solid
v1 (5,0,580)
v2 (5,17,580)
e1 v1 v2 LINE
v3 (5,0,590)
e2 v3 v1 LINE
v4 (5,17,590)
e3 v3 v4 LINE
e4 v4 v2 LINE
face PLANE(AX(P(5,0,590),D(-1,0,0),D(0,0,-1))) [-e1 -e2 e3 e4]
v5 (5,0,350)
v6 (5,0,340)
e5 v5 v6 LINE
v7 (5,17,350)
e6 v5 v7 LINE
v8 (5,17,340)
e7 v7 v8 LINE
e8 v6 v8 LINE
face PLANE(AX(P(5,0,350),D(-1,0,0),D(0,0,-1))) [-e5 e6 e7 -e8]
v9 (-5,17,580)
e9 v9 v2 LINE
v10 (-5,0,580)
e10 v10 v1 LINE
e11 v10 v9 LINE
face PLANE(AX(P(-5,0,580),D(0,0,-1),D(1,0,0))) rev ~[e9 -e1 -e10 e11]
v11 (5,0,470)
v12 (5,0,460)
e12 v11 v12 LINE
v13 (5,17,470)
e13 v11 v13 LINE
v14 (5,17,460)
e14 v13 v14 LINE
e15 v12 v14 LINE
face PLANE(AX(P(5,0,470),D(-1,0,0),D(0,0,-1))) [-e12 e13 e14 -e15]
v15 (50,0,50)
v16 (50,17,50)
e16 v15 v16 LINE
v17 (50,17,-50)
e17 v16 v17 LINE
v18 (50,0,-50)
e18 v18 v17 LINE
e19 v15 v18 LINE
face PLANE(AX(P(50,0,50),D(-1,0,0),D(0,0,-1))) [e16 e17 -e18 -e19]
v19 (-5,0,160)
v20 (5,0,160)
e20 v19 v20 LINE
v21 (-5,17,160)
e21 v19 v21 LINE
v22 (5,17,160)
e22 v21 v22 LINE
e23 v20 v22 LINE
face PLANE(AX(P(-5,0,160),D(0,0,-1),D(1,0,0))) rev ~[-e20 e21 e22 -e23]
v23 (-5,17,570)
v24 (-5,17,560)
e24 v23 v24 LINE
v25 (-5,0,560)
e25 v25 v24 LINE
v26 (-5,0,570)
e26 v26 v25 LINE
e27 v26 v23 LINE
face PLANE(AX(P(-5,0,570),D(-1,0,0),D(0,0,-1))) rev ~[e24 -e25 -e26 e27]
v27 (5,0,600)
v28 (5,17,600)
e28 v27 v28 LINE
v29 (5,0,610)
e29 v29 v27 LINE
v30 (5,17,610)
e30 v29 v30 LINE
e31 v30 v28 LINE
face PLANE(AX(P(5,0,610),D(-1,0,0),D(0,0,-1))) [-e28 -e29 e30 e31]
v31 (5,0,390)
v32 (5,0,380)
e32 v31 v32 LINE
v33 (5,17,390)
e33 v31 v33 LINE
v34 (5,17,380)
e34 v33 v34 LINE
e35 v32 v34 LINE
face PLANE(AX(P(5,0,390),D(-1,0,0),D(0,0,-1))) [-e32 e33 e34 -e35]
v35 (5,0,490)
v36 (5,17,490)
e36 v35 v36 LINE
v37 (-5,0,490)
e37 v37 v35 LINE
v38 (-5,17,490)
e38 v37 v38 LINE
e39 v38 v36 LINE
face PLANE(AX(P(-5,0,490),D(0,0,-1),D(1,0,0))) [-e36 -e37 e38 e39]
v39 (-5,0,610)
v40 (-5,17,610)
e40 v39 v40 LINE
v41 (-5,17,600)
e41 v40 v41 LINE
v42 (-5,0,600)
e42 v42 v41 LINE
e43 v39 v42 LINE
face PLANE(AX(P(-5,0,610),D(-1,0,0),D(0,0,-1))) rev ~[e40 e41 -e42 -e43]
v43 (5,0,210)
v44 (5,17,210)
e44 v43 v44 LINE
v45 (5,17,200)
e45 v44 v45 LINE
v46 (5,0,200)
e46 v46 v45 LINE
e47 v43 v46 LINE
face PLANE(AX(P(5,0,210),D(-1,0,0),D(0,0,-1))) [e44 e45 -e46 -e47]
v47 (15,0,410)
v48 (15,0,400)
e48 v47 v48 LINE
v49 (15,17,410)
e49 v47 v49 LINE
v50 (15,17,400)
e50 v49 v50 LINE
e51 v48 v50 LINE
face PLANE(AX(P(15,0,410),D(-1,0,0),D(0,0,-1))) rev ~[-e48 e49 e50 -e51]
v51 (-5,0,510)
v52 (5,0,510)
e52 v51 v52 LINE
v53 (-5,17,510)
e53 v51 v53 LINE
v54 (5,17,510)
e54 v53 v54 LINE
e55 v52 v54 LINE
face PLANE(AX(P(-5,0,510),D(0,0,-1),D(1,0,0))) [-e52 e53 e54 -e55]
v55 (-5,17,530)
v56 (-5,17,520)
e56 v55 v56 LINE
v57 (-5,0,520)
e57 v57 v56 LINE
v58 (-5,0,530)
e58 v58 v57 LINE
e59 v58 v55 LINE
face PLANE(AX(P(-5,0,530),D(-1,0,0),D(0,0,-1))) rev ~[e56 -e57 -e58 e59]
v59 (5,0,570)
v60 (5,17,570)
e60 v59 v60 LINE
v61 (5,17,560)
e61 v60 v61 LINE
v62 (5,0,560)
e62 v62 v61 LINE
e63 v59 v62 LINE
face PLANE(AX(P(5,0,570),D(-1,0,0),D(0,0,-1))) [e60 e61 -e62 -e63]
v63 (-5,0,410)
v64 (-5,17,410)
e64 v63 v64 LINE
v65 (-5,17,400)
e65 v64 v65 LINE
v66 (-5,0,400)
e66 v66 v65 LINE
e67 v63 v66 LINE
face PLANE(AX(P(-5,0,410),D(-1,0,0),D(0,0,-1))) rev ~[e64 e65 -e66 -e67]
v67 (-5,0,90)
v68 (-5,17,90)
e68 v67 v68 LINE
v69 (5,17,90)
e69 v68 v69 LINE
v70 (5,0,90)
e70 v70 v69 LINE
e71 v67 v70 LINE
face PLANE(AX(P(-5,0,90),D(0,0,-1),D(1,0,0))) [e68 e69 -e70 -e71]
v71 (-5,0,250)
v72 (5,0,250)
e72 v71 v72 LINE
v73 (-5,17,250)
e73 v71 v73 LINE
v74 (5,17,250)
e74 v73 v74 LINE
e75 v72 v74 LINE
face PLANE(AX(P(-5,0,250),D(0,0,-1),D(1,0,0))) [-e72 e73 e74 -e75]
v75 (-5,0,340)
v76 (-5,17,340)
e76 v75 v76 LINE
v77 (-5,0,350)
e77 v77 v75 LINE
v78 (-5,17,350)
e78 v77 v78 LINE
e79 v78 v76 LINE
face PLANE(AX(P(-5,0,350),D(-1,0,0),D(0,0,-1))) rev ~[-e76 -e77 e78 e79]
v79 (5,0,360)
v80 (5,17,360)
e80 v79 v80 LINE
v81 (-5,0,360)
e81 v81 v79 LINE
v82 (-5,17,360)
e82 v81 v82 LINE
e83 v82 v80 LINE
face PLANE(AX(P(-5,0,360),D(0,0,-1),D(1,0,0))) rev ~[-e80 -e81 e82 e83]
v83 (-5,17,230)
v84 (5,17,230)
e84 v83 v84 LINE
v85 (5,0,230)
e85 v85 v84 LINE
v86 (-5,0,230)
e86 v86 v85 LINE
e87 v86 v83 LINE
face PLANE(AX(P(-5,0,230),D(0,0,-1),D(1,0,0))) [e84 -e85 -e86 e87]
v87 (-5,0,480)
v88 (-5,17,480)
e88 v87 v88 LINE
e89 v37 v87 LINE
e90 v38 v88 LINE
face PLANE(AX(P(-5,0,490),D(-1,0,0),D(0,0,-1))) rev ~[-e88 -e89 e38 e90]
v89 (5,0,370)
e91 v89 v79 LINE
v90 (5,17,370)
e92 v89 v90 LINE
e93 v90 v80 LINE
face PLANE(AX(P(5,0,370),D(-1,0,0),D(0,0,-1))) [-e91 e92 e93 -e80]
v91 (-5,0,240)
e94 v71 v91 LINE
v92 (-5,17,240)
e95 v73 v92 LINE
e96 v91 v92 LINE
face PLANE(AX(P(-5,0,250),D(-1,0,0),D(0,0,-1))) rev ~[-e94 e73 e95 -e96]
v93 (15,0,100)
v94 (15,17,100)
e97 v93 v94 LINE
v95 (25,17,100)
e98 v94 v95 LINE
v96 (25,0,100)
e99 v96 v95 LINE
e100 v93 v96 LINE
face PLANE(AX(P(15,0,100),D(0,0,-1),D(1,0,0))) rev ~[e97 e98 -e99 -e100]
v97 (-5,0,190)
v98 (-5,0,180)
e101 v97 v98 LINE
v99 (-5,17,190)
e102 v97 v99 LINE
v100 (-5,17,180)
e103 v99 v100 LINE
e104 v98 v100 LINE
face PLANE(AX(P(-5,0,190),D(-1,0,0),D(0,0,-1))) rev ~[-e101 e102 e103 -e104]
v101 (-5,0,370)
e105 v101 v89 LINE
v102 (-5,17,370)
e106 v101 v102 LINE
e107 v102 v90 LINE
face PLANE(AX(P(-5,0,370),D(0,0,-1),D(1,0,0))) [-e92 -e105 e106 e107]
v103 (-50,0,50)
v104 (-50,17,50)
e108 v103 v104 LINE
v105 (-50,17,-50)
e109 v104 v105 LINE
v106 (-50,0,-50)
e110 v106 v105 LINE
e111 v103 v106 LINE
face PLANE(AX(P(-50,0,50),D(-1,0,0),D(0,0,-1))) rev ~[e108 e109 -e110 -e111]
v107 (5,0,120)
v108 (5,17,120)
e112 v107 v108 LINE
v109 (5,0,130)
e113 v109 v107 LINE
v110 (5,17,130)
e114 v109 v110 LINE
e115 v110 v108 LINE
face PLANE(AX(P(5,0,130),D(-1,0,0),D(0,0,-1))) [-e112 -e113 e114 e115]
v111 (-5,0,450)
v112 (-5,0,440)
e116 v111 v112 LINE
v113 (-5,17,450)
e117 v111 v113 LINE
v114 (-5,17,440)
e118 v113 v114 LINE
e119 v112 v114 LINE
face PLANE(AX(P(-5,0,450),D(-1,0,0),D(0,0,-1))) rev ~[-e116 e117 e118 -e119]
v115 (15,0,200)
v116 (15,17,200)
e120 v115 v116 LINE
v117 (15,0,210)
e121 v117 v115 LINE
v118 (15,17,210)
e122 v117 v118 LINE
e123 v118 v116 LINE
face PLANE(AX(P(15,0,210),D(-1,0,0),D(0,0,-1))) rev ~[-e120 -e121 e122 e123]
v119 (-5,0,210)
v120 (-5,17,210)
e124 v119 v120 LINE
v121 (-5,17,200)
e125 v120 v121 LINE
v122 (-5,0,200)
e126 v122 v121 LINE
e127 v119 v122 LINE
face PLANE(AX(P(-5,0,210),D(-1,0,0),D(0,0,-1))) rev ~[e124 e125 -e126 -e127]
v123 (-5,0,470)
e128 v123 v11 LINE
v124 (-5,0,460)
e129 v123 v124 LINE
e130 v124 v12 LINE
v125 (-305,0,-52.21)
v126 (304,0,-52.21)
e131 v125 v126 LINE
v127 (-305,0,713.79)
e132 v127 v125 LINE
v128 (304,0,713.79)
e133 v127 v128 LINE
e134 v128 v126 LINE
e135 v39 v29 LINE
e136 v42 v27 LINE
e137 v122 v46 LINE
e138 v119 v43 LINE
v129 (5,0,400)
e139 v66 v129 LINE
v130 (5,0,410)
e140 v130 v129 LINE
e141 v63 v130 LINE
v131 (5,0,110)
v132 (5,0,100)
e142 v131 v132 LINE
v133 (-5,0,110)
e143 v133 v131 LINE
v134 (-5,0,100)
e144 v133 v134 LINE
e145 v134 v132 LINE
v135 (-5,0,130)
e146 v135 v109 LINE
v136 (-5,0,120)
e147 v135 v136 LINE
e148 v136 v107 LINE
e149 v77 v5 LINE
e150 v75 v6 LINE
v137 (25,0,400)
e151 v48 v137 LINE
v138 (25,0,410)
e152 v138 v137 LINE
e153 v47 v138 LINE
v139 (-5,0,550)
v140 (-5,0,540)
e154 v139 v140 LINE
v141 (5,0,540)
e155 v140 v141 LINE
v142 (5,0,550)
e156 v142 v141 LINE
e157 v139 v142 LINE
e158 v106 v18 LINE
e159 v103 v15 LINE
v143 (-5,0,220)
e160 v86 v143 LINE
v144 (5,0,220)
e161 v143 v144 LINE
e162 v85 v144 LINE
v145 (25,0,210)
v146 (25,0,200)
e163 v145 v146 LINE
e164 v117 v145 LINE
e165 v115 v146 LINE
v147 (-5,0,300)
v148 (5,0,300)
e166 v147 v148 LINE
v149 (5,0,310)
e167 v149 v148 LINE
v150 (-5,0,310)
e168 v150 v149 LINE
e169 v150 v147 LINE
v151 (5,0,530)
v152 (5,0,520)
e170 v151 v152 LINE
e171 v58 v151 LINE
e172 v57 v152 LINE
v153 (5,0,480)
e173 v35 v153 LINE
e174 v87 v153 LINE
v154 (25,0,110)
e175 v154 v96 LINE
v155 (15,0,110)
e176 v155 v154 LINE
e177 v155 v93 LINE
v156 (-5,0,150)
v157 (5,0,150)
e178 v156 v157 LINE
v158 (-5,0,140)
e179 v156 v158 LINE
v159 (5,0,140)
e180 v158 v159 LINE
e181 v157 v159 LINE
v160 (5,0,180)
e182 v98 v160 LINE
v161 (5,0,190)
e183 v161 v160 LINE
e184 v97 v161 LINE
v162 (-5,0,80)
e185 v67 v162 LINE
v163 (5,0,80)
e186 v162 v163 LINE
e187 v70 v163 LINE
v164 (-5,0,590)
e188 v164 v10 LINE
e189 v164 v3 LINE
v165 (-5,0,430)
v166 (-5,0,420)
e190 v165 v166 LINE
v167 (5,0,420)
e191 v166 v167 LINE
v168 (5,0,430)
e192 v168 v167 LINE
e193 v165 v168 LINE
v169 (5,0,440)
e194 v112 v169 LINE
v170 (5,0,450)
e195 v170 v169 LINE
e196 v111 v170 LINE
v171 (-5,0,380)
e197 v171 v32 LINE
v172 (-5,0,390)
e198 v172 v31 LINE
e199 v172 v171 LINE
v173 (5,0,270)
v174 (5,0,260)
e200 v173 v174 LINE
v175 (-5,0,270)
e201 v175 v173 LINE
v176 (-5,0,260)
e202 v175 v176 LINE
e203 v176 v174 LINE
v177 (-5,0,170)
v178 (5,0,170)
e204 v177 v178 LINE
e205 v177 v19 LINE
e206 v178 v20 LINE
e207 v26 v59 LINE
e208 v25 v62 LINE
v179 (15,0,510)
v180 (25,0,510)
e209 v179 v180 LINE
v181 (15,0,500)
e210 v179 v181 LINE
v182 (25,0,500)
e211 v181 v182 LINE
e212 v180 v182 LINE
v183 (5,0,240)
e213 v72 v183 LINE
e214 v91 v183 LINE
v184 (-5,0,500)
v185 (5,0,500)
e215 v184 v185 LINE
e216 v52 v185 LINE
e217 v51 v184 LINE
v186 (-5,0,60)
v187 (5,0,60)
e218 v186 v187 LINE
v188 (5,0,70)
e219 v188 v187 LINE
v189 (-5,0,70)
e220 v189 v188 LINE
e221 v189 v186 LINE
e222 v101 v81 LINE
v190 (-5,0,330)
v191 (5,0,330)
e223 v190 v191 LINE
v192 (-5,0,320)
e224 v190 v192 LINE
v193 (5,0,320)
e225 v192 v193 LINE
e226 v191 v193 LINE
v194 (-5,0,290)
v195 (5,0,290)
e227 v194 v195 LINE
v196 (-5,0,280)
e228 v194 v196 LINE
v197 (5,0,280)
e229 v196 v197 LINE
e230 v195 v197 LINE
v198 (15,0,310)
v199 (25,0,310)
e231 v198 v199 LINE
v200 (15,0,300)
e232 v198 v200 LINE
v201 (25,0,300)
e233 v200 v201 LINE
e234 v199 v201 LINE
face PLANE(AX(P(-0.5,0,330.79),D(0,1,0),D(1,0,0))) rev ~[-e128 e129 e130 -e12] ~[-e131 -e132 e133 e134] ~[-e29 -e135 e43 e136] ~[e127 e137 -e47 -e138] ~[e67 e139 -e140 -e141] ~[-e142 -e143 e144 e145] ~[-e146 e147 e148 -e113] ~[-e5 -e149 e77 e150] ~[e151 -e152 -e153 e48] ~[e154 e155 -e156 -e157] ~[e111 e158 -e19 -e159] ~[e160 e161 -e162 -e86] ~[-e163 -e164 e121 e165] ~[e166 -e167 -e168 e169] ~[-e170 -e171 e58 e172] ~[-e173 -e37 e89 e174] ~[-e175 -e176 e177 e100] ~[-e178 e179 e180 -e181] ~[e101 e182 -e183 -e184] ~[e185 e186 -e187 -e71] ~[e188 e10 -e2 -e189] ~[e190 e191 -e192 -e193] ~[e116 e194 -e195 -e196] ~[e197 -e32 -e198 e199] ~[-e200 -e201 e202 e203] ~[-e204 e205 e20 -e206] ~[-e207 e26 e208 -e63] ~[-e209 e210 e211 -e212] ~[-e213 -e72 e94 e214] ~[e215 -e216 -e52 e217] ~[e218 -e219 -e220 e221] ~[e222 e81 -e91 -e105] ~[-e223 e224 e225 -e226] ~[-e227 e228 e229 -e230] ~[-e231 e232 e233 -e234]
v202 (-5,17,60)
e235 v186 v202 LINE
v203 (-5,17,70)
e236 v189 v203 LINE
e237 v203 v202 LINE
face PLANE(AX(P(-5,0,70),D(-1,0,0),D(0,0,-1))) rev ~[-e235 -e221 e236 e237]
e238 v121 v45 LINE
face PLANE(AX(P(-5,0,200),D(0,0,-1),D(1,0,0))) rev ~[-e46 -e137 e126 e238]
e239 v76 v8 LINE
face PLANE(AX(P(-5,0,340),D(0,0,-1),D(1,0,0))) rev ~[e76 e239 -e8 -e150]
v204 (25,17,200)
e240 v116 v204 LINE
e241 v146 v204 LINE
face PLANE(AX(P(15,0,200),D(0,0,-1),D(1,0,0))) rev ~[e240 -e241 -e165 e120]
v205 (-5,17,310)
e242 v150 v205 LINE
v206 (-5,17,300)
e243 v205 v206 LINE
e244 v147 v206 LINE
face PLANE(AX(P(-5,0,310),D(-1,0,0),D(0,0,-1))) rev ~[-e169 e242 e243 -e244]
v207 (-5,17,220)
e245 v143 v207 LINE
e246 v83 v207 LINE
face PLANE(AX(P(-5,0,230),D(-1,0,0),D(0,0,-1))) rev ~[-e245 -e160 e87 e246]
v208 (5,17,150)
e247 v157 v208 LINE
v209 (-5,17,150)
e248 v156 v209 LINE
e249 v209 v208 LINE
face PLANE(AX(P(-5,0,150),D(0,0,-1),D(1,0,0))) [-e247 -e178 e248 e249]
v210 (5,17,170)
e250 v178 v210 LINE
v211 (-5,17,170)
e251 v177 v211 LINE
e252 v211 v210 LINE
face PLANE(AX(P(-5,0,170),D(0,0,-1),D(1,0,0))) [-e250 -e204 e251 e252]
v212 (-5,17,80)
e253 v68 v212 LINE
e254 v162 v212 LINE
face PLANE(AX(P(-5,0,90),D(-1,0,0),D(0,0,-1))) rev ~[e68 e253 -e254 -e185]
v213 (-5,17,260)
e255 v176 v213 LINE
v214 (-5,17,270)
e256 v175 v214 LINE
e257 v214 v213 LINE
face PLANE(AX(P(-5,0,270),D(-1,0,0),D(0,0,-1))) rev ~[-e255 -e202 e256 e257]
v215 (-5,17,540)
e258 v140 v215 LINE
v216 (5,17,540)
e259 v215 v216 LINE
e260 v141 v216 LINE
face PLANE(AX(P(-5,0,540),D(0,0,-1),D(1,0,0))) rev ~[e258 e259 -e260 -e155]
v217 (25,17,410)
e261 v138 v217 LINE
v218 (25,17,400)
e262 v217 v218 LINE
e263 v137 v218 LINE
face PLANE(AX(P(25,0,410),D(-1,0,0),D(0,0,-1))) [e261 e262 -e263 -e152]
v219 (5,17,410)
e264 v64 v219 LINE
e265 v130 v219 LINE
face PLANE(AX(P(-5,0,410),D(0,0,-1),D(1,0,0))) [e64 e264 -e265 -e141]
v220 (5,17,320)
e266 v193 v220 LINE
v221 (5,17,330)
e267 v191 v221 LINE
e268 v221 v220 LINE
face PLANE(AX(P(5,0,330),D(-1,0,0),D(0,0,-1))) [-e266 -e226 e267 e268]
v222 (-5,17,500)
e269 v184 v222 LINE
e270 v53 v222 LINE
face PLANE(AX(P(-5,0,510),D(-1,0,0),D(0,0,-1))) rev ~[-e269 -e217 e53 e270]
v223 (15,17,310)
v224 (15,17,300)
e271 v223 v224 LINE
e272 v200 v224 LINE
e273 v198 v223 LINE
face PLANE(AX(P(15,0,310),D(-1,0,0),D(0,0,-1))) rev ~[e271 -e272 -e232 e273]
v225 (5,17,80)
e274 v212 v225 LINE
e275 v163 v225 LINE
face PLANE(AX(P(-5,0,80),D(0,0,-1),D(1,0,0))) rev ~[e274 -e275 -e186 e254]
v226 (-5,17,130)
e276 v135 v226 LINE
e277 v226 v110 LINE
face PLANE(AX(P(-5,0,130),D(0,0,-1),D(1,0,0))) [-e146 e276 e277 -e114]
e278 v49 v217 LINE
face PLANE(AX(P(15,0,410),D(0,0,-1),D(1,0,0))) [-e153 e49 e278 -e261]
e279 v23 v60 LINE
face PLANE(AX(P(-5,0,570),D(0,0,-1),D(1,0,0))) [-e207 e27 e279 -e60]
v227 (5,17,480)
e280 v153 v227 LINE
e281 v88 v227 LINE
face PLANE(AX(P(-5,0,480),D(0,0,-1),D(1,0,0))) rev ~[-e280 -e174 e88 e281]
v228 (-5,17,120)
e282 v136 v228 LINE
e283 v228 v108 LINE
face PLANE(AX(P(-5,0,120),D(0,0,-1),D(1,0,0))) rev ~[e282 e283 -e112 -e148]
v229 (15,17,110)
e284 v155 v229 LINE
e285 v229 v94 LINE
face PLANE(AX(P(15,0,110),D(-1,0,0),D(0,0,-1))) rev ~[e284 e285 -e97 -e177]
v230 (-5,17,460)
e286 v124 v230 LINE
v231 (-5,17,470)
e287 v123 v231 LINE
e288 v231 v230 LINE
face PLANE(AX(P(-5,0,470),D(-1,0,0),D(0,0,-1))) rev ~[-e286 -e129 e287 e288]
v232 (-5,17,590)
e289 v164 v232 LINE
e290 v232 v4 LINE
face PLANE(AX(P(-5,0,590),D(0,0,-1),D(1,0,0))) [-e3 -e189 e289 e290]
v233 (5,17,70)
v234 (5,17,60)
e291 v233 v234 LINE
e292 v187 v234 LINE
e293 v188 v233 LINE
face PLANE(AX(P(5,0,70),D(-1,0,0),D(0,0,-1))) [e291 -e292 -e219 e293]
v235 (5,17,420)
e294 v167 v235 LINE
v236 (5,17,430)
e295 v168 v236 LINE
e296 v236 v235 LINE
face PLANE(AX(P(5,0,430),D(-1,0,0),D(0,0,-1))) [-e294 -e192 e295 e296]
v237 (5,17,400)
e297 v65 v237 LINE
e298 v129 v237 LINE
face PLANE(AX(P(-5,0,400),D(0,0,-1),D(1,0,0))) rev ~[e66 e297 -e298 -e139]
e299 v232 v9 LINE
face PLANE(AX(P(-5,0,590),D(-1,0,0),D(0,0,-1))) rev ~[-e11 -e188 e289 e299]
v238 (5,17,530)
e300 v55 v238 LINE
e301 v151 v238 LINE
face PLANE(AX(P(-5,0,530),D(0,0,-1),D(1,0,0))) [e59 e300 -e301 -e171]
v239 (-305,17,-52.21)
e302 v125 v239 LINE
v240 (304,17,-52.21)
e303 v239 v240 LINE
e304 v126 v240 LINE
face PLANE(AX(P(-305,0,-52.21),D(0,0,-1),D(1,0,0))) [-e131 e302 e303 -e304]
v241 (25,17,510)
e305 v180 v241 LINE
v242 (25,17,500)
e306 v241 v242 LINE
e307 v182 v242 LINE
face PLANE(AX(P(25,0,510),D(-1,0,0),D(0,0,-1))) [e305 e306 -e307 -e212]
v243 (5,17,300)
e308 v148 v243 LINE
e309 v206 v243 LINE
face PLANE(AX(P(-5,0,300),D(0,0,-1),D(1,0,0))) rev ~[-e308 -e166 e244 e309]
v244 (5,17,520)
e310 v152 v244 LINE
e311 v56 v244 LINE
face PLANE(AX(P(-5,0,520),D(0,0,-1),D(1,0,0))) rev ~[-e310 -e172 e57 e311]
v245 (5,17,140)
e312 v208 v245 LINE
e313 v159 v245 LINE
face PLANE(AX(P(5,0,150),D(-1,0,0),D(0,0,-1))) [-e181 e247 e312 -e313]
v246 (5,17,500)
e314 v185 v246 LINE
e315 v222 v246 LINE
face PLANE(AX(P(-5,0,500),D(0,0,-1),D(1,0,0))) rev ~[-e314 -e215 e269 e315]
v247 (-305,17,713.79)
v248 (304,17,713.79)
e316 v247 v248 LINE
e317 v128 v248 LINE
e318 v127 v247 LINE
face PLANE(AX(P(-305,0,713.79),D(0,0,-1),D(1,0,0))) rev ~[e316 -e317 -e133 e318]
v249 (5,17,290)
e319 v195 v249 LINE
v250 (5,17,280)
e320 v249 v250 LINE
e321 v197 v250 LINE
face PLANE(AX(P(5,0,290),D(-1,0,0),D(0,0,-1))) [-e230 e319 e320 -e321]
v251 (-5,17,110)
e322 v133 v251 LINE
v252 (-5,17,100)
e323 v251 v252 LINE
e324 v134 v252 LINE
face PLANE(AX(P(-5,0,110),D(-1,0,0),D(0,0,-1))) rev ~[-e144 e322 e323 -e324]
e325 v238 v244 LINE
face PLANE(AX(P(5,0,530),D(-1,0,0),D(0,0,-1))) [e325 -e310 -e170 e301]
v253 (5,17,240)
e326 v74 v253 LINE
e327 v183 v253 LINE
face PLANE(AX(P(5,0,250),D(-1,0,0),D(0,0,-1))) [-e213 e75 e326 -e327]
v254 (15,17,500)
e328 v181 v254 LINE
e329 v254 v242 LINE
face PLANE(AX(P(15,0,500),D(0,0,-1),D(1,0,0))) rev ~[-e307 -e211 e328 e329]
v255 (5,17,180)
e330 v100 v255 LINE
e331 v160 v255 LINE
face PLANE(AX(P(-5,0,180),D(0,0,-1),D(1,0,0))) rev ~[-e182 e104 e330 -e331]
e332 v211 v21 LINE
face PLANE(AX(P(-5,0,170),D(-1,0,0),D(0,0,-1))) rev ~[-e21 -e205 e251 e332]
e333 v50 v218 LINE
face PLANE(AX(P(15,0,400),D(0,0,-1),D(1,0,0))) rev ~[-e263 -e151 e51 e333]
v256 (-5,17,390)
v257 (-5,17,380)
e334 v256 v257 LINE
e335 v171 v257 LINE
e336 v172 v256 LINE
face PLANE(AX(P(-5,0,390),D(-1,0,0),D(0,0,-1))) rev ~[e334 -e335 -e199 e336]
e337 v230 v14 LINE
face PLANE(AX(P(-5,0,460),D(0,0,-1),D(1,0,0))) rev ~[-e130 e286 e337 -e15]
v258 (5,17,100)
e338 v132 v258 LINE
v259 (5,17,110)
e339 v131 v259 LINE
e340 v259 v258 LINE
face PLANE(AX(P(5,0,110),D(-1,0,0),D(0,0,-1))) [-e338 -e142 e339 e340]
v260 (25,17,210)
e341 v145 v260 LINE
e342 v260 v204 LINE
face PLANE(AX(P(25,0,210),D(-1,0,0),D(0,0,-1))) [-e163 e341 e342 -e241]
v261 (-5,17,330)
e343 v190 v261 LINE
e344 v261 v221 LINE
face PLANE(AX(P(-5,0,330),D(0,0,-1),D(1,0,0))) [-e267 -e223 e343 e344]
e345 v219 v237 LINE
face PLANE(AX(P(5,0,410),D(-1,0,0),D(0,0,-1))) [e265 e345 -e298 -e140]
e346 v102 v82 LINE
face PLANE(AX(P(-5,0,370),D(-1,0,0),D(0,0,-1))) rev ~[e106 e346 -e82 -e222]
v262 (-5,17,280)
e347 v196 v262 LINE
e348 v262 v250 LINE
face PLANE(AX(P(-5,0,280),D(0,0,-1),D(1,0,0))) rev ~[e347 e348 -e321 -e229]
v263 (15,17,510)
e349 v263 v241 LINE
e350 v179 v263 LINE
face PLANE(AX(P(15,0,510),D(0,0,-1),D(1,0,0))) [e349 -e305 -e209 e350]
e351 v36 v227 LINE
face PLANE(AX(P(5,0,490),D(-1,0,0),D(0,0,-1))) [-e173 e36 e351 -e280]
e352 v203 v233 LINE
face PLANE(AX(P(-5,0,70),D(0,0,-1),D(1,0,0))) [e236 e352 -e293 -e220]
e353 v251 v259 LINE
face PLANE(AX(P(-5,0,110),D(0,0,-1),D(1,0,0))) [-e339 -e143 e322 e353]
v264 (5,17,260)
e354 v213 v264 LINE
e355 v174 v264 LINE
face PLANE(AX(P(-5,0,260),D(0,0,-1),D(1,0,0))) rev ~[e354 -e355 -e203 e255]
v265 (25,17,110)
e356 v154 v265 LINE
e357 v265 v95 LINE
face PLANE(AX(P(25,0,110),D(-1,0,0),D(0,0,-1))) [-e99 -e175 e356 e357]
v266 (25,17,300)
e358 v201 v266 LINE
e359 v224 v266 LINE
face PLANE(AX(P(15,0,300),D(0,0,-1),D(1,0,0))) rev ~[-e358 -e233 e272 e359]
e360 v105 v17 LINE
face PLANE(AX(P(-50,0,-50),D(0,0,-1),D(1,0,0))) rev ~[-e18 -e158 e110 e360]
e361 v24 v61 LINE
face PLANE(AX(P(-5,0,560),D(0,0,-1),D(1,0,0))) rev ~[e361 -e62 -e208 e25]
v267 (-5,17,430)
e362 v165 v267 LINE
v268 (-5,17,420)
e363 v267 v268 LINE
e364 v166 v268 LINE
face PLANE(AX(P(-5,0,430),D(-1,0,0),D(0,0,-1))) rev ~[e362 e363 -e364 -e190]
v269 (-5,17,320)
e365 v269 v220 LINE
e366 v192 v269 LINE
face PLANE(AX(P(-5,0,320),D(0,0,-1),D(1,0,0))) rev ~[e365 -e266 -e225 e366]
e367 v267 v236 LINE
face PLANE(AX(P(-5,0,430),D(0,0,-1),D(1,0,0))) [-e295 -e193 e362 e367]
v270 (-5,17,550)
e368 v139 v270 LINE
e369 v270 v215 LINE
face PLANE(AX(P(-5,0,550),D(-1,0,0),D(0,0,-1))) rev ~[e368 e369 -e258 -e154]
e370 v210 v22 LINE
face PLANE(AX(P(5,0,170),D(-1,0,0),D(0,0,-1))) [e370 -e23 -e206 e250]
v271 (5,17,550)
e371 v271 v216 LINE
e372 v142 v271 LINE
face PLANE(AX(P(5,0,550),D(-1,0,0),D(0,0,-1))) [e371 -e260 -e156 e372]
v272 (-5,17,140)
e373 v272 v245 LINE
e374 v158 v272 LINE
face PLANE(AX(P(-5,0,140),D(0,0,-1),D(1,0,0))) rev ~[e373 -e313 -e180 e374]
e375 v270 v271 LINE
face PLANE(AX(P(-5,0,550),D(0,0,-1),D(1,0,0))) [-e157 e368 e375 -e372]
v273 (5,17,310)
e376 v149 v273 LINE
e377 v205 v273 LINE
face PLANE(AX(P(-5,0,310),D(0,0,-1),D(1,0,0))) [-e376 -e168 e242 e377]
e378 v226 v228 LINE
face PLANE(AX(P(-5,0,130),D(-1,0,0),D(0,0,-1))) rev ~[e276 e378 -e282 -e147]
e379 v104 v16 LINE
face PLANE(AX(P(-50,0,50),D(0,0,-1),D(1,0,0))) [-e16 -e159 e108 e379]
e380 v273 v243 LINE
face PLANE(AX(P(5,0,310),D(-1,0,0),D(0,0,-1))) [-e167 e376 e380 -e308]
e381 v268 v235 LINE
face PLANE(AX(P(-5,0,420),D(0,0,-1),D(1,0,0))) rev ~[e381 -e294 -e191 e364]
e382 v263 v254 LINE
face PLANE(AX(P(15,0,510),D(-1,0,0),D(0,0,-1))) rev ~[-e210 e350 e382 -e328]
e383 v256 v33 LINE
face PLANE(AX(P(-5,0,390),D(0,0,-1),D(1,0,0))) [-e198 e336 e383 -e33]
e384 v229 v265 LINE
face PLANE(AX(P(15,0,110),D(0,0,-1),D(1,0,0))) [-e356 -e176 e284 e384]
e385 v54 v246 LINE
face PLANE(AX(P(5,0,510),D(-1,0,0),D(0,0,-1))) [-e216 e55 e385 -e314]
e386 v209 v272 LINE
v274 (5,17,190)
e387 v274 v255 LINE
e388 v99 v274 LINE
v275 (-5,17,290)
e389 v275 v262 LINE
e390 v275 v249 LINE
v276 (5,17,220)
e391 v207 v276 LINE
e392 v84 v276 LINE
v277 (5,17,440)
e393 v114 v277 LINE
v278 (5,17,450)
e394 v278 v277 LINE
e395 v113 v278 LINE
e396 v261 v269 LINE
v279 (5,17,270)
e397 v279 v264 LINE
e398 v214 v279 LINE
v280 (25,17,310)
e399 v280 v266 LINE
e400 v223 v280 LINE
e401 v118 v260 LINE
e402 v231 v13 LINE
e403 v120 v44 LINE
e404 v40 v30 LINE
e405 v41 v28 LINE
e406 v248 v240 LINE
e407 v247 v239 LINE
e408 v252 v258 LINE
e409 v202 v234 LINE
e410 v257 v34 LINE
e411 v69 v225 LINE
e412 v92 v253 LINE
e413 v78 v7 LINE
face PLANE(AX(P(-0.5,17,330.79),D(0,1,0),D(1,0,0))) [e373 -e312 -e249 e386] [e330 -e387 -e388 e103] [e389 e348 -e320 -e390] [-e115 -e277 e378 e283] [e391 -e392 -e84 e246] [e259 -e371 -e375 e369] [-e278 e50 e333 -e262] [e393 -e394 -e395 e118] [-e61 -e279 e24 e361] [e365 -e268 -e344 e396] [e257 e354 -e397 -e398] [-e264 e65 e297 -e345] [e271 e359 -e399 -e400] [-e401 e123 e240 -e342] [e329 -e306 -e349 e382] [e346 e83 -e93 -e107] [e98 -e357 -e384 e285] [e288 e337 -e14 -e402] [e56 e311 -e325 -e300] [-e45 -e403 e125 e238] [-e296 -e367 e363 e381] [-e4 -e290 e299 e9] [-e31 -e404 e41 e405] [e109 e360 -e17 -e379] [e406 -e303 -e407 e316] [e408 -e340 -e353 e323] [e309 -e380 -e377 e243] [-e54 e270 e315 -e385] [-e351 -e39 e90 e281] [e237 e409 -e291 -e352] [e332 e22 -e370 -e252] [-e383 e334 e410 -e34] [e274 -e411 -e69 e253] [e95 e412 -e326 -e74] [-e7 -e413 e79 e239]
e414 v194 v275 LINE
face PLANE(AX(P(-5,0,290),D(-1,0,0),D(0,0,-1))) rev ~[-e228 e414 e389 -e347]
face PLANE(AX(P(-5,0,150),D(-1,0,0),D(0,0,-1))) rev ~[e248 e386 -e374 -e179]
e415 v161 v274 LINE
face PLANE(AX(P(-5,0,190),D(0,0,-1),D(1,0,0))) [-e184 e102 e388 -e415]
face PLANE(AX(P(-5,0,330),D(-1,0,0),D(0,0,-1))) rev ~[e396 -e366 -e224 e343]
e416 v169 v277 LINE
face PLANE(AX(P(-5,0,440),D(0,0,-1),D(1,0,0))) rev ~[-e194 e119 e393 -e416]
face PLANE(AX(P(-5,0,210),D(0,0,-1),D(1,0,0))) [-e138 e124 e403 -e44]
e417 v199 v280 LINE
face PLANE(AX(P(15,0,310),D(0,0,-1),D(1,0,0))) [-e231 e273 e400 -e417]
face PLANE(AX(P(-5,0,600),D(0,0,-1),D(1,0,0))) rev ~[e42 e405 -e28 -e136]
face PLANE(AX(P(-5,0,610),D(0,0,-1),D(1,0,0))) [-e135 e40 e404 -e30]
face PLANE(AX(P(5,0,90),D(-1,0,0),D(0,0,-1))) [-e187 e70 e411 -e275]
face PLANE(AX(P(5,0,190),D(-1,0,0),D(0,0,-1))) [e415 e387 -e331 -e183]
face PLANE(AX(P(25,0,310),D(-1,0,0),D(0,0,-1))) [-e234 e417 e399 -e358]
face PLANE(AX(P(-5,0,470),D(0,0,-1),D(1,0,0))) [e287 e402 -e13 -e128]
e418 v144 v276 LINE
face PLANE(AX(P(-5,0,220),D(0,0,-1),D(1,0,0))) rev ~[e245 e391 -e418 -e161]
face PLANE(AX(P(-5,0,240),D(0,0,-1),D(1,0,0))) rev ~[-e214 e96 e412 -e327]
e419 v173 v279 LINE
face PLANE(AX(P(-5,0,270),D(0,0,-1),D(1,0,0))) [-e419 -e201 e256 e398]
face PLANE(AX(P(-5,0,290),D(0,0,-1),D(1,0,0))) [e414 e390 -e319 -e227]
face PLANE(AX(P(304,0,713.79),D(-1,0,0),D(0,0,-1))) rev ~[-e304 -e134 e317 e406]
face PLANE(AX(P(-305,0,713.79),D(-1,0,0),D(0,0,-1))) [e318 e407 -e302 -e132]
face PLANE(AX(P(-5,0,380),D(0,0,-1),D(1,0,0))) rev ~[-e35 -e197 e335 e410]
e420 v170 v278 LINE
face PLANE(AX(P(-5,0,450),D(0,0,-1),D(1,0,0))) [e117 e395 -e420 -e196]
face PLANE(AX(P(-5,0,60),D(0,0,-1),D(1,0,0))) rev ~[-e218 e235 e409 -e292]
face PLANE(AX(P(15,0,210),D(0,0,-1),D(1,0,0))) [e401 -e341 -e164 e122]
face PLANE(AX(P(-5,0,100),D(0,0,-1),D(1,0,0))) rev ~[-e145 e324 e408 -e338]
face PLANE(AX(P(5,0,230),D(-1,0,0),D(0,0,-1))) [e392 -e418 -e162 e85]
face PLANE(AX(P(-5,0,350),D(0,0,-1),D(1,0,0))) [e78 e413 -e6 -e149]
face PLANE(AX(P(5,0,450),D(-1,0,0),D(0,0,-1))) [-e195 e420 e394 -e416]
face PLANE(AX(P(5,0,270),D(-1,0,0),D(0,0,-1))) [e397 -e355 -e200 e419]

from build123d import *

# Parameters (mm, degrees)
SKETCH1_W           = 609
SKETCH1_H           = 766
SKETCH1_W_2         = 10
SKETCH1_H_2         = 10
SKETCH1_W_3         = 100
SKETCH1_H_3         = 100
BOSS_EXTRUDE1_DEPTH = 17


with BuildPart() as part:
    # Sketch1 → Boss-Extrude1 (new body)
    with BuildSketch(Plane(origin=(0, 0, 0), x_dir=(1, 0, 0), z_dir=(0, 1, 0))):
        with Locations((-0.5, -330.79)):
            Rectangle(SKETCH1_W, SKETCH1_H)
        with Locations((0, -85)):
            Rectangle(SKETCH1_W_2, SKETCH1_H_2, mode=Mode.SUBTRACT)
        Rectangle(SKETCH1_W_3, SKETCH1_H_3, mode=Mode.SUBTRACT)
        with Locations((0, -65)):
            Rectangle(SKETCH1_W_2, SKETCH1_H_2, mode=Mode.SUBTRACT)
        with Locations((0, -105)):
            Rectangle(SKETCH1_W_2, SKETCH1_H_2, mode=Mode.SUBTRACT)
        with Locations((0, -125)):
            Rectangle(SKETCH1_W_2, SKETCH1_H_2, mode=Mode.SUBTRACT)
        with Locations((0, -145)):
            Rectangle(SKETCH1_W_2, SKETCH1_H_2, mode=Mode.SUBTRACT)
        with Locations((0, -165)):
            Rectangle(SKETCH1_W_2, SKETCH1_H_2, mode=Mode.SUBTRACT)
        with Locations((0, -185)):
            Rectangle(SKETCH1_W_2, SKETCH1_H_2, mode=Mode.SUBTRACT)
        with Locations((0, -205)):
            Rectangle(SKETCH1_W_2, SKETCH1_H_2, mode=Mode.SUBTRACT)
        with Locations((0, -225)):
            Rectangle(SKETCH1_W_2, SKETCH1_H_2, mode=Mode.SUBTRACT)
        with Locations((0, -245)):
            Rectangle(SKETCH1_W_2, SKETCH1_H_2, mode=Mode.SUBTRACT)
        with Locations((0, -265)):
            Rectangle(SKETCH1_W_2, SKETCH1_H_2, mode=Mode.SUBTRACT)
        with Locations((0, -285)):
            Rectangle(SKETCH1_W_2, SKETCH1_H_2, mode=Mode.SUBTRACT)
        with Locations((0, -305)):
            Rectangle(SKETCH1_W_2, SKETCH1_H_2, mode=Mode.SUBTRACT)
        with Locations((0, -325)):
            Rectangle(SKETCH1_W_2, SKETCH1_H_2, mode=Mode.SUBTRACT)
        with Locations((0, -345)):
            Rectangle(SKETCH1_W_2, SKETCH1_H_2, mode=Mode.SUBTRACT)
        with Locations((0, -365)):
            Rectangle(SKETCH1_W_2, SKETCH1_H_2, mode=Mode.SUBTRACT)
        with Locations((0, -385)):
            Rectangle(SKETCH1_W_2, SKETCH1_H_2, mode=Mode.SUBTRACT)
        with Locations((0, -405)):
            Rectangle(SKETCH1_W_2, SKETCH1_H_2, mode=Mode.SUBTRACT)
        with Locations((0, -425)):
            Rectangle(SKETCH1_W_2, SKETCH1_H_2, mode=Mode.SUBTRACT)
        with Locations((0, -445)):
            Rectangle(SKETCH1_W_2, SKETCH1_H_2, mode=Mode.SUBTRACT)
        with Locations((0, -465)):
            Rectangle(SKETCH1_W_2, SKETCH1_H_2, mode=Mode.SUBTRACT)
        with Locations((0, -485)):
            Rectangle(SKETCH1_W_2, SKETCH1_H_2, mode=Mode.SUBTRACT)
        with Locations((0, -505)):
            Rectangle(SKETCH1_W_2, SKETCH1_H_2, mode=Mode.SUBTRACT)
        with Locations((0, -525)):
            Rectangle(SKETCH1_W_2, SKETCH1_H_2, mode=Mode.SUBTRACT)
        with Locations((0, -545)):
            Rectangle(SKETCH1_W_2, SKETCH1_H_2, mode=Mode.SUBTRACT)
        with Locations((0, -565)):
            Rectangle(SKETCH1_W_2, SKETCH1_H_2, mode=Mode.SUBTRACT)
        with Locations((0, -585)):
            Rectangle(SKETCH1_W_2, SKETCH1_H_2, mode=Mode.SUBTRACT)
        with Locations((0, -605)):
            Rectangle(SKETCH1_W_2, SKETCH1_H_2, mode=Mode.SUBTRACT)
        with Locations((20, -105)):
            Rectangle(SKETCH1_W_2, SKETCH1_H_2, mode=Mode.SUBTRACT)
        with Locations((20, -205)):
            Rectangle(SKETCH1_W_2, SKETCH1_H_2, mode=Mode.SUBTRACT)
        with Locations((20, -305)):
            Rectangle(SKETCH1_W_2, SKETCH1_H_2, mode=Mode.SUBTRACT)
        with Locations((20, -405)):
            Rectangle(SKETCH1_W_2, SKETCH1_H_2, mode=Mode.SUBTRACT)
        with Locations((20, -505)):
            Rectangle(SKETCH1_W_2, SKETCH1_H_2, mode=Mode.SUBTRACT)
    extrude(amount=BOSS_EXTRUDE1_DEPTH)


solid = part.part
